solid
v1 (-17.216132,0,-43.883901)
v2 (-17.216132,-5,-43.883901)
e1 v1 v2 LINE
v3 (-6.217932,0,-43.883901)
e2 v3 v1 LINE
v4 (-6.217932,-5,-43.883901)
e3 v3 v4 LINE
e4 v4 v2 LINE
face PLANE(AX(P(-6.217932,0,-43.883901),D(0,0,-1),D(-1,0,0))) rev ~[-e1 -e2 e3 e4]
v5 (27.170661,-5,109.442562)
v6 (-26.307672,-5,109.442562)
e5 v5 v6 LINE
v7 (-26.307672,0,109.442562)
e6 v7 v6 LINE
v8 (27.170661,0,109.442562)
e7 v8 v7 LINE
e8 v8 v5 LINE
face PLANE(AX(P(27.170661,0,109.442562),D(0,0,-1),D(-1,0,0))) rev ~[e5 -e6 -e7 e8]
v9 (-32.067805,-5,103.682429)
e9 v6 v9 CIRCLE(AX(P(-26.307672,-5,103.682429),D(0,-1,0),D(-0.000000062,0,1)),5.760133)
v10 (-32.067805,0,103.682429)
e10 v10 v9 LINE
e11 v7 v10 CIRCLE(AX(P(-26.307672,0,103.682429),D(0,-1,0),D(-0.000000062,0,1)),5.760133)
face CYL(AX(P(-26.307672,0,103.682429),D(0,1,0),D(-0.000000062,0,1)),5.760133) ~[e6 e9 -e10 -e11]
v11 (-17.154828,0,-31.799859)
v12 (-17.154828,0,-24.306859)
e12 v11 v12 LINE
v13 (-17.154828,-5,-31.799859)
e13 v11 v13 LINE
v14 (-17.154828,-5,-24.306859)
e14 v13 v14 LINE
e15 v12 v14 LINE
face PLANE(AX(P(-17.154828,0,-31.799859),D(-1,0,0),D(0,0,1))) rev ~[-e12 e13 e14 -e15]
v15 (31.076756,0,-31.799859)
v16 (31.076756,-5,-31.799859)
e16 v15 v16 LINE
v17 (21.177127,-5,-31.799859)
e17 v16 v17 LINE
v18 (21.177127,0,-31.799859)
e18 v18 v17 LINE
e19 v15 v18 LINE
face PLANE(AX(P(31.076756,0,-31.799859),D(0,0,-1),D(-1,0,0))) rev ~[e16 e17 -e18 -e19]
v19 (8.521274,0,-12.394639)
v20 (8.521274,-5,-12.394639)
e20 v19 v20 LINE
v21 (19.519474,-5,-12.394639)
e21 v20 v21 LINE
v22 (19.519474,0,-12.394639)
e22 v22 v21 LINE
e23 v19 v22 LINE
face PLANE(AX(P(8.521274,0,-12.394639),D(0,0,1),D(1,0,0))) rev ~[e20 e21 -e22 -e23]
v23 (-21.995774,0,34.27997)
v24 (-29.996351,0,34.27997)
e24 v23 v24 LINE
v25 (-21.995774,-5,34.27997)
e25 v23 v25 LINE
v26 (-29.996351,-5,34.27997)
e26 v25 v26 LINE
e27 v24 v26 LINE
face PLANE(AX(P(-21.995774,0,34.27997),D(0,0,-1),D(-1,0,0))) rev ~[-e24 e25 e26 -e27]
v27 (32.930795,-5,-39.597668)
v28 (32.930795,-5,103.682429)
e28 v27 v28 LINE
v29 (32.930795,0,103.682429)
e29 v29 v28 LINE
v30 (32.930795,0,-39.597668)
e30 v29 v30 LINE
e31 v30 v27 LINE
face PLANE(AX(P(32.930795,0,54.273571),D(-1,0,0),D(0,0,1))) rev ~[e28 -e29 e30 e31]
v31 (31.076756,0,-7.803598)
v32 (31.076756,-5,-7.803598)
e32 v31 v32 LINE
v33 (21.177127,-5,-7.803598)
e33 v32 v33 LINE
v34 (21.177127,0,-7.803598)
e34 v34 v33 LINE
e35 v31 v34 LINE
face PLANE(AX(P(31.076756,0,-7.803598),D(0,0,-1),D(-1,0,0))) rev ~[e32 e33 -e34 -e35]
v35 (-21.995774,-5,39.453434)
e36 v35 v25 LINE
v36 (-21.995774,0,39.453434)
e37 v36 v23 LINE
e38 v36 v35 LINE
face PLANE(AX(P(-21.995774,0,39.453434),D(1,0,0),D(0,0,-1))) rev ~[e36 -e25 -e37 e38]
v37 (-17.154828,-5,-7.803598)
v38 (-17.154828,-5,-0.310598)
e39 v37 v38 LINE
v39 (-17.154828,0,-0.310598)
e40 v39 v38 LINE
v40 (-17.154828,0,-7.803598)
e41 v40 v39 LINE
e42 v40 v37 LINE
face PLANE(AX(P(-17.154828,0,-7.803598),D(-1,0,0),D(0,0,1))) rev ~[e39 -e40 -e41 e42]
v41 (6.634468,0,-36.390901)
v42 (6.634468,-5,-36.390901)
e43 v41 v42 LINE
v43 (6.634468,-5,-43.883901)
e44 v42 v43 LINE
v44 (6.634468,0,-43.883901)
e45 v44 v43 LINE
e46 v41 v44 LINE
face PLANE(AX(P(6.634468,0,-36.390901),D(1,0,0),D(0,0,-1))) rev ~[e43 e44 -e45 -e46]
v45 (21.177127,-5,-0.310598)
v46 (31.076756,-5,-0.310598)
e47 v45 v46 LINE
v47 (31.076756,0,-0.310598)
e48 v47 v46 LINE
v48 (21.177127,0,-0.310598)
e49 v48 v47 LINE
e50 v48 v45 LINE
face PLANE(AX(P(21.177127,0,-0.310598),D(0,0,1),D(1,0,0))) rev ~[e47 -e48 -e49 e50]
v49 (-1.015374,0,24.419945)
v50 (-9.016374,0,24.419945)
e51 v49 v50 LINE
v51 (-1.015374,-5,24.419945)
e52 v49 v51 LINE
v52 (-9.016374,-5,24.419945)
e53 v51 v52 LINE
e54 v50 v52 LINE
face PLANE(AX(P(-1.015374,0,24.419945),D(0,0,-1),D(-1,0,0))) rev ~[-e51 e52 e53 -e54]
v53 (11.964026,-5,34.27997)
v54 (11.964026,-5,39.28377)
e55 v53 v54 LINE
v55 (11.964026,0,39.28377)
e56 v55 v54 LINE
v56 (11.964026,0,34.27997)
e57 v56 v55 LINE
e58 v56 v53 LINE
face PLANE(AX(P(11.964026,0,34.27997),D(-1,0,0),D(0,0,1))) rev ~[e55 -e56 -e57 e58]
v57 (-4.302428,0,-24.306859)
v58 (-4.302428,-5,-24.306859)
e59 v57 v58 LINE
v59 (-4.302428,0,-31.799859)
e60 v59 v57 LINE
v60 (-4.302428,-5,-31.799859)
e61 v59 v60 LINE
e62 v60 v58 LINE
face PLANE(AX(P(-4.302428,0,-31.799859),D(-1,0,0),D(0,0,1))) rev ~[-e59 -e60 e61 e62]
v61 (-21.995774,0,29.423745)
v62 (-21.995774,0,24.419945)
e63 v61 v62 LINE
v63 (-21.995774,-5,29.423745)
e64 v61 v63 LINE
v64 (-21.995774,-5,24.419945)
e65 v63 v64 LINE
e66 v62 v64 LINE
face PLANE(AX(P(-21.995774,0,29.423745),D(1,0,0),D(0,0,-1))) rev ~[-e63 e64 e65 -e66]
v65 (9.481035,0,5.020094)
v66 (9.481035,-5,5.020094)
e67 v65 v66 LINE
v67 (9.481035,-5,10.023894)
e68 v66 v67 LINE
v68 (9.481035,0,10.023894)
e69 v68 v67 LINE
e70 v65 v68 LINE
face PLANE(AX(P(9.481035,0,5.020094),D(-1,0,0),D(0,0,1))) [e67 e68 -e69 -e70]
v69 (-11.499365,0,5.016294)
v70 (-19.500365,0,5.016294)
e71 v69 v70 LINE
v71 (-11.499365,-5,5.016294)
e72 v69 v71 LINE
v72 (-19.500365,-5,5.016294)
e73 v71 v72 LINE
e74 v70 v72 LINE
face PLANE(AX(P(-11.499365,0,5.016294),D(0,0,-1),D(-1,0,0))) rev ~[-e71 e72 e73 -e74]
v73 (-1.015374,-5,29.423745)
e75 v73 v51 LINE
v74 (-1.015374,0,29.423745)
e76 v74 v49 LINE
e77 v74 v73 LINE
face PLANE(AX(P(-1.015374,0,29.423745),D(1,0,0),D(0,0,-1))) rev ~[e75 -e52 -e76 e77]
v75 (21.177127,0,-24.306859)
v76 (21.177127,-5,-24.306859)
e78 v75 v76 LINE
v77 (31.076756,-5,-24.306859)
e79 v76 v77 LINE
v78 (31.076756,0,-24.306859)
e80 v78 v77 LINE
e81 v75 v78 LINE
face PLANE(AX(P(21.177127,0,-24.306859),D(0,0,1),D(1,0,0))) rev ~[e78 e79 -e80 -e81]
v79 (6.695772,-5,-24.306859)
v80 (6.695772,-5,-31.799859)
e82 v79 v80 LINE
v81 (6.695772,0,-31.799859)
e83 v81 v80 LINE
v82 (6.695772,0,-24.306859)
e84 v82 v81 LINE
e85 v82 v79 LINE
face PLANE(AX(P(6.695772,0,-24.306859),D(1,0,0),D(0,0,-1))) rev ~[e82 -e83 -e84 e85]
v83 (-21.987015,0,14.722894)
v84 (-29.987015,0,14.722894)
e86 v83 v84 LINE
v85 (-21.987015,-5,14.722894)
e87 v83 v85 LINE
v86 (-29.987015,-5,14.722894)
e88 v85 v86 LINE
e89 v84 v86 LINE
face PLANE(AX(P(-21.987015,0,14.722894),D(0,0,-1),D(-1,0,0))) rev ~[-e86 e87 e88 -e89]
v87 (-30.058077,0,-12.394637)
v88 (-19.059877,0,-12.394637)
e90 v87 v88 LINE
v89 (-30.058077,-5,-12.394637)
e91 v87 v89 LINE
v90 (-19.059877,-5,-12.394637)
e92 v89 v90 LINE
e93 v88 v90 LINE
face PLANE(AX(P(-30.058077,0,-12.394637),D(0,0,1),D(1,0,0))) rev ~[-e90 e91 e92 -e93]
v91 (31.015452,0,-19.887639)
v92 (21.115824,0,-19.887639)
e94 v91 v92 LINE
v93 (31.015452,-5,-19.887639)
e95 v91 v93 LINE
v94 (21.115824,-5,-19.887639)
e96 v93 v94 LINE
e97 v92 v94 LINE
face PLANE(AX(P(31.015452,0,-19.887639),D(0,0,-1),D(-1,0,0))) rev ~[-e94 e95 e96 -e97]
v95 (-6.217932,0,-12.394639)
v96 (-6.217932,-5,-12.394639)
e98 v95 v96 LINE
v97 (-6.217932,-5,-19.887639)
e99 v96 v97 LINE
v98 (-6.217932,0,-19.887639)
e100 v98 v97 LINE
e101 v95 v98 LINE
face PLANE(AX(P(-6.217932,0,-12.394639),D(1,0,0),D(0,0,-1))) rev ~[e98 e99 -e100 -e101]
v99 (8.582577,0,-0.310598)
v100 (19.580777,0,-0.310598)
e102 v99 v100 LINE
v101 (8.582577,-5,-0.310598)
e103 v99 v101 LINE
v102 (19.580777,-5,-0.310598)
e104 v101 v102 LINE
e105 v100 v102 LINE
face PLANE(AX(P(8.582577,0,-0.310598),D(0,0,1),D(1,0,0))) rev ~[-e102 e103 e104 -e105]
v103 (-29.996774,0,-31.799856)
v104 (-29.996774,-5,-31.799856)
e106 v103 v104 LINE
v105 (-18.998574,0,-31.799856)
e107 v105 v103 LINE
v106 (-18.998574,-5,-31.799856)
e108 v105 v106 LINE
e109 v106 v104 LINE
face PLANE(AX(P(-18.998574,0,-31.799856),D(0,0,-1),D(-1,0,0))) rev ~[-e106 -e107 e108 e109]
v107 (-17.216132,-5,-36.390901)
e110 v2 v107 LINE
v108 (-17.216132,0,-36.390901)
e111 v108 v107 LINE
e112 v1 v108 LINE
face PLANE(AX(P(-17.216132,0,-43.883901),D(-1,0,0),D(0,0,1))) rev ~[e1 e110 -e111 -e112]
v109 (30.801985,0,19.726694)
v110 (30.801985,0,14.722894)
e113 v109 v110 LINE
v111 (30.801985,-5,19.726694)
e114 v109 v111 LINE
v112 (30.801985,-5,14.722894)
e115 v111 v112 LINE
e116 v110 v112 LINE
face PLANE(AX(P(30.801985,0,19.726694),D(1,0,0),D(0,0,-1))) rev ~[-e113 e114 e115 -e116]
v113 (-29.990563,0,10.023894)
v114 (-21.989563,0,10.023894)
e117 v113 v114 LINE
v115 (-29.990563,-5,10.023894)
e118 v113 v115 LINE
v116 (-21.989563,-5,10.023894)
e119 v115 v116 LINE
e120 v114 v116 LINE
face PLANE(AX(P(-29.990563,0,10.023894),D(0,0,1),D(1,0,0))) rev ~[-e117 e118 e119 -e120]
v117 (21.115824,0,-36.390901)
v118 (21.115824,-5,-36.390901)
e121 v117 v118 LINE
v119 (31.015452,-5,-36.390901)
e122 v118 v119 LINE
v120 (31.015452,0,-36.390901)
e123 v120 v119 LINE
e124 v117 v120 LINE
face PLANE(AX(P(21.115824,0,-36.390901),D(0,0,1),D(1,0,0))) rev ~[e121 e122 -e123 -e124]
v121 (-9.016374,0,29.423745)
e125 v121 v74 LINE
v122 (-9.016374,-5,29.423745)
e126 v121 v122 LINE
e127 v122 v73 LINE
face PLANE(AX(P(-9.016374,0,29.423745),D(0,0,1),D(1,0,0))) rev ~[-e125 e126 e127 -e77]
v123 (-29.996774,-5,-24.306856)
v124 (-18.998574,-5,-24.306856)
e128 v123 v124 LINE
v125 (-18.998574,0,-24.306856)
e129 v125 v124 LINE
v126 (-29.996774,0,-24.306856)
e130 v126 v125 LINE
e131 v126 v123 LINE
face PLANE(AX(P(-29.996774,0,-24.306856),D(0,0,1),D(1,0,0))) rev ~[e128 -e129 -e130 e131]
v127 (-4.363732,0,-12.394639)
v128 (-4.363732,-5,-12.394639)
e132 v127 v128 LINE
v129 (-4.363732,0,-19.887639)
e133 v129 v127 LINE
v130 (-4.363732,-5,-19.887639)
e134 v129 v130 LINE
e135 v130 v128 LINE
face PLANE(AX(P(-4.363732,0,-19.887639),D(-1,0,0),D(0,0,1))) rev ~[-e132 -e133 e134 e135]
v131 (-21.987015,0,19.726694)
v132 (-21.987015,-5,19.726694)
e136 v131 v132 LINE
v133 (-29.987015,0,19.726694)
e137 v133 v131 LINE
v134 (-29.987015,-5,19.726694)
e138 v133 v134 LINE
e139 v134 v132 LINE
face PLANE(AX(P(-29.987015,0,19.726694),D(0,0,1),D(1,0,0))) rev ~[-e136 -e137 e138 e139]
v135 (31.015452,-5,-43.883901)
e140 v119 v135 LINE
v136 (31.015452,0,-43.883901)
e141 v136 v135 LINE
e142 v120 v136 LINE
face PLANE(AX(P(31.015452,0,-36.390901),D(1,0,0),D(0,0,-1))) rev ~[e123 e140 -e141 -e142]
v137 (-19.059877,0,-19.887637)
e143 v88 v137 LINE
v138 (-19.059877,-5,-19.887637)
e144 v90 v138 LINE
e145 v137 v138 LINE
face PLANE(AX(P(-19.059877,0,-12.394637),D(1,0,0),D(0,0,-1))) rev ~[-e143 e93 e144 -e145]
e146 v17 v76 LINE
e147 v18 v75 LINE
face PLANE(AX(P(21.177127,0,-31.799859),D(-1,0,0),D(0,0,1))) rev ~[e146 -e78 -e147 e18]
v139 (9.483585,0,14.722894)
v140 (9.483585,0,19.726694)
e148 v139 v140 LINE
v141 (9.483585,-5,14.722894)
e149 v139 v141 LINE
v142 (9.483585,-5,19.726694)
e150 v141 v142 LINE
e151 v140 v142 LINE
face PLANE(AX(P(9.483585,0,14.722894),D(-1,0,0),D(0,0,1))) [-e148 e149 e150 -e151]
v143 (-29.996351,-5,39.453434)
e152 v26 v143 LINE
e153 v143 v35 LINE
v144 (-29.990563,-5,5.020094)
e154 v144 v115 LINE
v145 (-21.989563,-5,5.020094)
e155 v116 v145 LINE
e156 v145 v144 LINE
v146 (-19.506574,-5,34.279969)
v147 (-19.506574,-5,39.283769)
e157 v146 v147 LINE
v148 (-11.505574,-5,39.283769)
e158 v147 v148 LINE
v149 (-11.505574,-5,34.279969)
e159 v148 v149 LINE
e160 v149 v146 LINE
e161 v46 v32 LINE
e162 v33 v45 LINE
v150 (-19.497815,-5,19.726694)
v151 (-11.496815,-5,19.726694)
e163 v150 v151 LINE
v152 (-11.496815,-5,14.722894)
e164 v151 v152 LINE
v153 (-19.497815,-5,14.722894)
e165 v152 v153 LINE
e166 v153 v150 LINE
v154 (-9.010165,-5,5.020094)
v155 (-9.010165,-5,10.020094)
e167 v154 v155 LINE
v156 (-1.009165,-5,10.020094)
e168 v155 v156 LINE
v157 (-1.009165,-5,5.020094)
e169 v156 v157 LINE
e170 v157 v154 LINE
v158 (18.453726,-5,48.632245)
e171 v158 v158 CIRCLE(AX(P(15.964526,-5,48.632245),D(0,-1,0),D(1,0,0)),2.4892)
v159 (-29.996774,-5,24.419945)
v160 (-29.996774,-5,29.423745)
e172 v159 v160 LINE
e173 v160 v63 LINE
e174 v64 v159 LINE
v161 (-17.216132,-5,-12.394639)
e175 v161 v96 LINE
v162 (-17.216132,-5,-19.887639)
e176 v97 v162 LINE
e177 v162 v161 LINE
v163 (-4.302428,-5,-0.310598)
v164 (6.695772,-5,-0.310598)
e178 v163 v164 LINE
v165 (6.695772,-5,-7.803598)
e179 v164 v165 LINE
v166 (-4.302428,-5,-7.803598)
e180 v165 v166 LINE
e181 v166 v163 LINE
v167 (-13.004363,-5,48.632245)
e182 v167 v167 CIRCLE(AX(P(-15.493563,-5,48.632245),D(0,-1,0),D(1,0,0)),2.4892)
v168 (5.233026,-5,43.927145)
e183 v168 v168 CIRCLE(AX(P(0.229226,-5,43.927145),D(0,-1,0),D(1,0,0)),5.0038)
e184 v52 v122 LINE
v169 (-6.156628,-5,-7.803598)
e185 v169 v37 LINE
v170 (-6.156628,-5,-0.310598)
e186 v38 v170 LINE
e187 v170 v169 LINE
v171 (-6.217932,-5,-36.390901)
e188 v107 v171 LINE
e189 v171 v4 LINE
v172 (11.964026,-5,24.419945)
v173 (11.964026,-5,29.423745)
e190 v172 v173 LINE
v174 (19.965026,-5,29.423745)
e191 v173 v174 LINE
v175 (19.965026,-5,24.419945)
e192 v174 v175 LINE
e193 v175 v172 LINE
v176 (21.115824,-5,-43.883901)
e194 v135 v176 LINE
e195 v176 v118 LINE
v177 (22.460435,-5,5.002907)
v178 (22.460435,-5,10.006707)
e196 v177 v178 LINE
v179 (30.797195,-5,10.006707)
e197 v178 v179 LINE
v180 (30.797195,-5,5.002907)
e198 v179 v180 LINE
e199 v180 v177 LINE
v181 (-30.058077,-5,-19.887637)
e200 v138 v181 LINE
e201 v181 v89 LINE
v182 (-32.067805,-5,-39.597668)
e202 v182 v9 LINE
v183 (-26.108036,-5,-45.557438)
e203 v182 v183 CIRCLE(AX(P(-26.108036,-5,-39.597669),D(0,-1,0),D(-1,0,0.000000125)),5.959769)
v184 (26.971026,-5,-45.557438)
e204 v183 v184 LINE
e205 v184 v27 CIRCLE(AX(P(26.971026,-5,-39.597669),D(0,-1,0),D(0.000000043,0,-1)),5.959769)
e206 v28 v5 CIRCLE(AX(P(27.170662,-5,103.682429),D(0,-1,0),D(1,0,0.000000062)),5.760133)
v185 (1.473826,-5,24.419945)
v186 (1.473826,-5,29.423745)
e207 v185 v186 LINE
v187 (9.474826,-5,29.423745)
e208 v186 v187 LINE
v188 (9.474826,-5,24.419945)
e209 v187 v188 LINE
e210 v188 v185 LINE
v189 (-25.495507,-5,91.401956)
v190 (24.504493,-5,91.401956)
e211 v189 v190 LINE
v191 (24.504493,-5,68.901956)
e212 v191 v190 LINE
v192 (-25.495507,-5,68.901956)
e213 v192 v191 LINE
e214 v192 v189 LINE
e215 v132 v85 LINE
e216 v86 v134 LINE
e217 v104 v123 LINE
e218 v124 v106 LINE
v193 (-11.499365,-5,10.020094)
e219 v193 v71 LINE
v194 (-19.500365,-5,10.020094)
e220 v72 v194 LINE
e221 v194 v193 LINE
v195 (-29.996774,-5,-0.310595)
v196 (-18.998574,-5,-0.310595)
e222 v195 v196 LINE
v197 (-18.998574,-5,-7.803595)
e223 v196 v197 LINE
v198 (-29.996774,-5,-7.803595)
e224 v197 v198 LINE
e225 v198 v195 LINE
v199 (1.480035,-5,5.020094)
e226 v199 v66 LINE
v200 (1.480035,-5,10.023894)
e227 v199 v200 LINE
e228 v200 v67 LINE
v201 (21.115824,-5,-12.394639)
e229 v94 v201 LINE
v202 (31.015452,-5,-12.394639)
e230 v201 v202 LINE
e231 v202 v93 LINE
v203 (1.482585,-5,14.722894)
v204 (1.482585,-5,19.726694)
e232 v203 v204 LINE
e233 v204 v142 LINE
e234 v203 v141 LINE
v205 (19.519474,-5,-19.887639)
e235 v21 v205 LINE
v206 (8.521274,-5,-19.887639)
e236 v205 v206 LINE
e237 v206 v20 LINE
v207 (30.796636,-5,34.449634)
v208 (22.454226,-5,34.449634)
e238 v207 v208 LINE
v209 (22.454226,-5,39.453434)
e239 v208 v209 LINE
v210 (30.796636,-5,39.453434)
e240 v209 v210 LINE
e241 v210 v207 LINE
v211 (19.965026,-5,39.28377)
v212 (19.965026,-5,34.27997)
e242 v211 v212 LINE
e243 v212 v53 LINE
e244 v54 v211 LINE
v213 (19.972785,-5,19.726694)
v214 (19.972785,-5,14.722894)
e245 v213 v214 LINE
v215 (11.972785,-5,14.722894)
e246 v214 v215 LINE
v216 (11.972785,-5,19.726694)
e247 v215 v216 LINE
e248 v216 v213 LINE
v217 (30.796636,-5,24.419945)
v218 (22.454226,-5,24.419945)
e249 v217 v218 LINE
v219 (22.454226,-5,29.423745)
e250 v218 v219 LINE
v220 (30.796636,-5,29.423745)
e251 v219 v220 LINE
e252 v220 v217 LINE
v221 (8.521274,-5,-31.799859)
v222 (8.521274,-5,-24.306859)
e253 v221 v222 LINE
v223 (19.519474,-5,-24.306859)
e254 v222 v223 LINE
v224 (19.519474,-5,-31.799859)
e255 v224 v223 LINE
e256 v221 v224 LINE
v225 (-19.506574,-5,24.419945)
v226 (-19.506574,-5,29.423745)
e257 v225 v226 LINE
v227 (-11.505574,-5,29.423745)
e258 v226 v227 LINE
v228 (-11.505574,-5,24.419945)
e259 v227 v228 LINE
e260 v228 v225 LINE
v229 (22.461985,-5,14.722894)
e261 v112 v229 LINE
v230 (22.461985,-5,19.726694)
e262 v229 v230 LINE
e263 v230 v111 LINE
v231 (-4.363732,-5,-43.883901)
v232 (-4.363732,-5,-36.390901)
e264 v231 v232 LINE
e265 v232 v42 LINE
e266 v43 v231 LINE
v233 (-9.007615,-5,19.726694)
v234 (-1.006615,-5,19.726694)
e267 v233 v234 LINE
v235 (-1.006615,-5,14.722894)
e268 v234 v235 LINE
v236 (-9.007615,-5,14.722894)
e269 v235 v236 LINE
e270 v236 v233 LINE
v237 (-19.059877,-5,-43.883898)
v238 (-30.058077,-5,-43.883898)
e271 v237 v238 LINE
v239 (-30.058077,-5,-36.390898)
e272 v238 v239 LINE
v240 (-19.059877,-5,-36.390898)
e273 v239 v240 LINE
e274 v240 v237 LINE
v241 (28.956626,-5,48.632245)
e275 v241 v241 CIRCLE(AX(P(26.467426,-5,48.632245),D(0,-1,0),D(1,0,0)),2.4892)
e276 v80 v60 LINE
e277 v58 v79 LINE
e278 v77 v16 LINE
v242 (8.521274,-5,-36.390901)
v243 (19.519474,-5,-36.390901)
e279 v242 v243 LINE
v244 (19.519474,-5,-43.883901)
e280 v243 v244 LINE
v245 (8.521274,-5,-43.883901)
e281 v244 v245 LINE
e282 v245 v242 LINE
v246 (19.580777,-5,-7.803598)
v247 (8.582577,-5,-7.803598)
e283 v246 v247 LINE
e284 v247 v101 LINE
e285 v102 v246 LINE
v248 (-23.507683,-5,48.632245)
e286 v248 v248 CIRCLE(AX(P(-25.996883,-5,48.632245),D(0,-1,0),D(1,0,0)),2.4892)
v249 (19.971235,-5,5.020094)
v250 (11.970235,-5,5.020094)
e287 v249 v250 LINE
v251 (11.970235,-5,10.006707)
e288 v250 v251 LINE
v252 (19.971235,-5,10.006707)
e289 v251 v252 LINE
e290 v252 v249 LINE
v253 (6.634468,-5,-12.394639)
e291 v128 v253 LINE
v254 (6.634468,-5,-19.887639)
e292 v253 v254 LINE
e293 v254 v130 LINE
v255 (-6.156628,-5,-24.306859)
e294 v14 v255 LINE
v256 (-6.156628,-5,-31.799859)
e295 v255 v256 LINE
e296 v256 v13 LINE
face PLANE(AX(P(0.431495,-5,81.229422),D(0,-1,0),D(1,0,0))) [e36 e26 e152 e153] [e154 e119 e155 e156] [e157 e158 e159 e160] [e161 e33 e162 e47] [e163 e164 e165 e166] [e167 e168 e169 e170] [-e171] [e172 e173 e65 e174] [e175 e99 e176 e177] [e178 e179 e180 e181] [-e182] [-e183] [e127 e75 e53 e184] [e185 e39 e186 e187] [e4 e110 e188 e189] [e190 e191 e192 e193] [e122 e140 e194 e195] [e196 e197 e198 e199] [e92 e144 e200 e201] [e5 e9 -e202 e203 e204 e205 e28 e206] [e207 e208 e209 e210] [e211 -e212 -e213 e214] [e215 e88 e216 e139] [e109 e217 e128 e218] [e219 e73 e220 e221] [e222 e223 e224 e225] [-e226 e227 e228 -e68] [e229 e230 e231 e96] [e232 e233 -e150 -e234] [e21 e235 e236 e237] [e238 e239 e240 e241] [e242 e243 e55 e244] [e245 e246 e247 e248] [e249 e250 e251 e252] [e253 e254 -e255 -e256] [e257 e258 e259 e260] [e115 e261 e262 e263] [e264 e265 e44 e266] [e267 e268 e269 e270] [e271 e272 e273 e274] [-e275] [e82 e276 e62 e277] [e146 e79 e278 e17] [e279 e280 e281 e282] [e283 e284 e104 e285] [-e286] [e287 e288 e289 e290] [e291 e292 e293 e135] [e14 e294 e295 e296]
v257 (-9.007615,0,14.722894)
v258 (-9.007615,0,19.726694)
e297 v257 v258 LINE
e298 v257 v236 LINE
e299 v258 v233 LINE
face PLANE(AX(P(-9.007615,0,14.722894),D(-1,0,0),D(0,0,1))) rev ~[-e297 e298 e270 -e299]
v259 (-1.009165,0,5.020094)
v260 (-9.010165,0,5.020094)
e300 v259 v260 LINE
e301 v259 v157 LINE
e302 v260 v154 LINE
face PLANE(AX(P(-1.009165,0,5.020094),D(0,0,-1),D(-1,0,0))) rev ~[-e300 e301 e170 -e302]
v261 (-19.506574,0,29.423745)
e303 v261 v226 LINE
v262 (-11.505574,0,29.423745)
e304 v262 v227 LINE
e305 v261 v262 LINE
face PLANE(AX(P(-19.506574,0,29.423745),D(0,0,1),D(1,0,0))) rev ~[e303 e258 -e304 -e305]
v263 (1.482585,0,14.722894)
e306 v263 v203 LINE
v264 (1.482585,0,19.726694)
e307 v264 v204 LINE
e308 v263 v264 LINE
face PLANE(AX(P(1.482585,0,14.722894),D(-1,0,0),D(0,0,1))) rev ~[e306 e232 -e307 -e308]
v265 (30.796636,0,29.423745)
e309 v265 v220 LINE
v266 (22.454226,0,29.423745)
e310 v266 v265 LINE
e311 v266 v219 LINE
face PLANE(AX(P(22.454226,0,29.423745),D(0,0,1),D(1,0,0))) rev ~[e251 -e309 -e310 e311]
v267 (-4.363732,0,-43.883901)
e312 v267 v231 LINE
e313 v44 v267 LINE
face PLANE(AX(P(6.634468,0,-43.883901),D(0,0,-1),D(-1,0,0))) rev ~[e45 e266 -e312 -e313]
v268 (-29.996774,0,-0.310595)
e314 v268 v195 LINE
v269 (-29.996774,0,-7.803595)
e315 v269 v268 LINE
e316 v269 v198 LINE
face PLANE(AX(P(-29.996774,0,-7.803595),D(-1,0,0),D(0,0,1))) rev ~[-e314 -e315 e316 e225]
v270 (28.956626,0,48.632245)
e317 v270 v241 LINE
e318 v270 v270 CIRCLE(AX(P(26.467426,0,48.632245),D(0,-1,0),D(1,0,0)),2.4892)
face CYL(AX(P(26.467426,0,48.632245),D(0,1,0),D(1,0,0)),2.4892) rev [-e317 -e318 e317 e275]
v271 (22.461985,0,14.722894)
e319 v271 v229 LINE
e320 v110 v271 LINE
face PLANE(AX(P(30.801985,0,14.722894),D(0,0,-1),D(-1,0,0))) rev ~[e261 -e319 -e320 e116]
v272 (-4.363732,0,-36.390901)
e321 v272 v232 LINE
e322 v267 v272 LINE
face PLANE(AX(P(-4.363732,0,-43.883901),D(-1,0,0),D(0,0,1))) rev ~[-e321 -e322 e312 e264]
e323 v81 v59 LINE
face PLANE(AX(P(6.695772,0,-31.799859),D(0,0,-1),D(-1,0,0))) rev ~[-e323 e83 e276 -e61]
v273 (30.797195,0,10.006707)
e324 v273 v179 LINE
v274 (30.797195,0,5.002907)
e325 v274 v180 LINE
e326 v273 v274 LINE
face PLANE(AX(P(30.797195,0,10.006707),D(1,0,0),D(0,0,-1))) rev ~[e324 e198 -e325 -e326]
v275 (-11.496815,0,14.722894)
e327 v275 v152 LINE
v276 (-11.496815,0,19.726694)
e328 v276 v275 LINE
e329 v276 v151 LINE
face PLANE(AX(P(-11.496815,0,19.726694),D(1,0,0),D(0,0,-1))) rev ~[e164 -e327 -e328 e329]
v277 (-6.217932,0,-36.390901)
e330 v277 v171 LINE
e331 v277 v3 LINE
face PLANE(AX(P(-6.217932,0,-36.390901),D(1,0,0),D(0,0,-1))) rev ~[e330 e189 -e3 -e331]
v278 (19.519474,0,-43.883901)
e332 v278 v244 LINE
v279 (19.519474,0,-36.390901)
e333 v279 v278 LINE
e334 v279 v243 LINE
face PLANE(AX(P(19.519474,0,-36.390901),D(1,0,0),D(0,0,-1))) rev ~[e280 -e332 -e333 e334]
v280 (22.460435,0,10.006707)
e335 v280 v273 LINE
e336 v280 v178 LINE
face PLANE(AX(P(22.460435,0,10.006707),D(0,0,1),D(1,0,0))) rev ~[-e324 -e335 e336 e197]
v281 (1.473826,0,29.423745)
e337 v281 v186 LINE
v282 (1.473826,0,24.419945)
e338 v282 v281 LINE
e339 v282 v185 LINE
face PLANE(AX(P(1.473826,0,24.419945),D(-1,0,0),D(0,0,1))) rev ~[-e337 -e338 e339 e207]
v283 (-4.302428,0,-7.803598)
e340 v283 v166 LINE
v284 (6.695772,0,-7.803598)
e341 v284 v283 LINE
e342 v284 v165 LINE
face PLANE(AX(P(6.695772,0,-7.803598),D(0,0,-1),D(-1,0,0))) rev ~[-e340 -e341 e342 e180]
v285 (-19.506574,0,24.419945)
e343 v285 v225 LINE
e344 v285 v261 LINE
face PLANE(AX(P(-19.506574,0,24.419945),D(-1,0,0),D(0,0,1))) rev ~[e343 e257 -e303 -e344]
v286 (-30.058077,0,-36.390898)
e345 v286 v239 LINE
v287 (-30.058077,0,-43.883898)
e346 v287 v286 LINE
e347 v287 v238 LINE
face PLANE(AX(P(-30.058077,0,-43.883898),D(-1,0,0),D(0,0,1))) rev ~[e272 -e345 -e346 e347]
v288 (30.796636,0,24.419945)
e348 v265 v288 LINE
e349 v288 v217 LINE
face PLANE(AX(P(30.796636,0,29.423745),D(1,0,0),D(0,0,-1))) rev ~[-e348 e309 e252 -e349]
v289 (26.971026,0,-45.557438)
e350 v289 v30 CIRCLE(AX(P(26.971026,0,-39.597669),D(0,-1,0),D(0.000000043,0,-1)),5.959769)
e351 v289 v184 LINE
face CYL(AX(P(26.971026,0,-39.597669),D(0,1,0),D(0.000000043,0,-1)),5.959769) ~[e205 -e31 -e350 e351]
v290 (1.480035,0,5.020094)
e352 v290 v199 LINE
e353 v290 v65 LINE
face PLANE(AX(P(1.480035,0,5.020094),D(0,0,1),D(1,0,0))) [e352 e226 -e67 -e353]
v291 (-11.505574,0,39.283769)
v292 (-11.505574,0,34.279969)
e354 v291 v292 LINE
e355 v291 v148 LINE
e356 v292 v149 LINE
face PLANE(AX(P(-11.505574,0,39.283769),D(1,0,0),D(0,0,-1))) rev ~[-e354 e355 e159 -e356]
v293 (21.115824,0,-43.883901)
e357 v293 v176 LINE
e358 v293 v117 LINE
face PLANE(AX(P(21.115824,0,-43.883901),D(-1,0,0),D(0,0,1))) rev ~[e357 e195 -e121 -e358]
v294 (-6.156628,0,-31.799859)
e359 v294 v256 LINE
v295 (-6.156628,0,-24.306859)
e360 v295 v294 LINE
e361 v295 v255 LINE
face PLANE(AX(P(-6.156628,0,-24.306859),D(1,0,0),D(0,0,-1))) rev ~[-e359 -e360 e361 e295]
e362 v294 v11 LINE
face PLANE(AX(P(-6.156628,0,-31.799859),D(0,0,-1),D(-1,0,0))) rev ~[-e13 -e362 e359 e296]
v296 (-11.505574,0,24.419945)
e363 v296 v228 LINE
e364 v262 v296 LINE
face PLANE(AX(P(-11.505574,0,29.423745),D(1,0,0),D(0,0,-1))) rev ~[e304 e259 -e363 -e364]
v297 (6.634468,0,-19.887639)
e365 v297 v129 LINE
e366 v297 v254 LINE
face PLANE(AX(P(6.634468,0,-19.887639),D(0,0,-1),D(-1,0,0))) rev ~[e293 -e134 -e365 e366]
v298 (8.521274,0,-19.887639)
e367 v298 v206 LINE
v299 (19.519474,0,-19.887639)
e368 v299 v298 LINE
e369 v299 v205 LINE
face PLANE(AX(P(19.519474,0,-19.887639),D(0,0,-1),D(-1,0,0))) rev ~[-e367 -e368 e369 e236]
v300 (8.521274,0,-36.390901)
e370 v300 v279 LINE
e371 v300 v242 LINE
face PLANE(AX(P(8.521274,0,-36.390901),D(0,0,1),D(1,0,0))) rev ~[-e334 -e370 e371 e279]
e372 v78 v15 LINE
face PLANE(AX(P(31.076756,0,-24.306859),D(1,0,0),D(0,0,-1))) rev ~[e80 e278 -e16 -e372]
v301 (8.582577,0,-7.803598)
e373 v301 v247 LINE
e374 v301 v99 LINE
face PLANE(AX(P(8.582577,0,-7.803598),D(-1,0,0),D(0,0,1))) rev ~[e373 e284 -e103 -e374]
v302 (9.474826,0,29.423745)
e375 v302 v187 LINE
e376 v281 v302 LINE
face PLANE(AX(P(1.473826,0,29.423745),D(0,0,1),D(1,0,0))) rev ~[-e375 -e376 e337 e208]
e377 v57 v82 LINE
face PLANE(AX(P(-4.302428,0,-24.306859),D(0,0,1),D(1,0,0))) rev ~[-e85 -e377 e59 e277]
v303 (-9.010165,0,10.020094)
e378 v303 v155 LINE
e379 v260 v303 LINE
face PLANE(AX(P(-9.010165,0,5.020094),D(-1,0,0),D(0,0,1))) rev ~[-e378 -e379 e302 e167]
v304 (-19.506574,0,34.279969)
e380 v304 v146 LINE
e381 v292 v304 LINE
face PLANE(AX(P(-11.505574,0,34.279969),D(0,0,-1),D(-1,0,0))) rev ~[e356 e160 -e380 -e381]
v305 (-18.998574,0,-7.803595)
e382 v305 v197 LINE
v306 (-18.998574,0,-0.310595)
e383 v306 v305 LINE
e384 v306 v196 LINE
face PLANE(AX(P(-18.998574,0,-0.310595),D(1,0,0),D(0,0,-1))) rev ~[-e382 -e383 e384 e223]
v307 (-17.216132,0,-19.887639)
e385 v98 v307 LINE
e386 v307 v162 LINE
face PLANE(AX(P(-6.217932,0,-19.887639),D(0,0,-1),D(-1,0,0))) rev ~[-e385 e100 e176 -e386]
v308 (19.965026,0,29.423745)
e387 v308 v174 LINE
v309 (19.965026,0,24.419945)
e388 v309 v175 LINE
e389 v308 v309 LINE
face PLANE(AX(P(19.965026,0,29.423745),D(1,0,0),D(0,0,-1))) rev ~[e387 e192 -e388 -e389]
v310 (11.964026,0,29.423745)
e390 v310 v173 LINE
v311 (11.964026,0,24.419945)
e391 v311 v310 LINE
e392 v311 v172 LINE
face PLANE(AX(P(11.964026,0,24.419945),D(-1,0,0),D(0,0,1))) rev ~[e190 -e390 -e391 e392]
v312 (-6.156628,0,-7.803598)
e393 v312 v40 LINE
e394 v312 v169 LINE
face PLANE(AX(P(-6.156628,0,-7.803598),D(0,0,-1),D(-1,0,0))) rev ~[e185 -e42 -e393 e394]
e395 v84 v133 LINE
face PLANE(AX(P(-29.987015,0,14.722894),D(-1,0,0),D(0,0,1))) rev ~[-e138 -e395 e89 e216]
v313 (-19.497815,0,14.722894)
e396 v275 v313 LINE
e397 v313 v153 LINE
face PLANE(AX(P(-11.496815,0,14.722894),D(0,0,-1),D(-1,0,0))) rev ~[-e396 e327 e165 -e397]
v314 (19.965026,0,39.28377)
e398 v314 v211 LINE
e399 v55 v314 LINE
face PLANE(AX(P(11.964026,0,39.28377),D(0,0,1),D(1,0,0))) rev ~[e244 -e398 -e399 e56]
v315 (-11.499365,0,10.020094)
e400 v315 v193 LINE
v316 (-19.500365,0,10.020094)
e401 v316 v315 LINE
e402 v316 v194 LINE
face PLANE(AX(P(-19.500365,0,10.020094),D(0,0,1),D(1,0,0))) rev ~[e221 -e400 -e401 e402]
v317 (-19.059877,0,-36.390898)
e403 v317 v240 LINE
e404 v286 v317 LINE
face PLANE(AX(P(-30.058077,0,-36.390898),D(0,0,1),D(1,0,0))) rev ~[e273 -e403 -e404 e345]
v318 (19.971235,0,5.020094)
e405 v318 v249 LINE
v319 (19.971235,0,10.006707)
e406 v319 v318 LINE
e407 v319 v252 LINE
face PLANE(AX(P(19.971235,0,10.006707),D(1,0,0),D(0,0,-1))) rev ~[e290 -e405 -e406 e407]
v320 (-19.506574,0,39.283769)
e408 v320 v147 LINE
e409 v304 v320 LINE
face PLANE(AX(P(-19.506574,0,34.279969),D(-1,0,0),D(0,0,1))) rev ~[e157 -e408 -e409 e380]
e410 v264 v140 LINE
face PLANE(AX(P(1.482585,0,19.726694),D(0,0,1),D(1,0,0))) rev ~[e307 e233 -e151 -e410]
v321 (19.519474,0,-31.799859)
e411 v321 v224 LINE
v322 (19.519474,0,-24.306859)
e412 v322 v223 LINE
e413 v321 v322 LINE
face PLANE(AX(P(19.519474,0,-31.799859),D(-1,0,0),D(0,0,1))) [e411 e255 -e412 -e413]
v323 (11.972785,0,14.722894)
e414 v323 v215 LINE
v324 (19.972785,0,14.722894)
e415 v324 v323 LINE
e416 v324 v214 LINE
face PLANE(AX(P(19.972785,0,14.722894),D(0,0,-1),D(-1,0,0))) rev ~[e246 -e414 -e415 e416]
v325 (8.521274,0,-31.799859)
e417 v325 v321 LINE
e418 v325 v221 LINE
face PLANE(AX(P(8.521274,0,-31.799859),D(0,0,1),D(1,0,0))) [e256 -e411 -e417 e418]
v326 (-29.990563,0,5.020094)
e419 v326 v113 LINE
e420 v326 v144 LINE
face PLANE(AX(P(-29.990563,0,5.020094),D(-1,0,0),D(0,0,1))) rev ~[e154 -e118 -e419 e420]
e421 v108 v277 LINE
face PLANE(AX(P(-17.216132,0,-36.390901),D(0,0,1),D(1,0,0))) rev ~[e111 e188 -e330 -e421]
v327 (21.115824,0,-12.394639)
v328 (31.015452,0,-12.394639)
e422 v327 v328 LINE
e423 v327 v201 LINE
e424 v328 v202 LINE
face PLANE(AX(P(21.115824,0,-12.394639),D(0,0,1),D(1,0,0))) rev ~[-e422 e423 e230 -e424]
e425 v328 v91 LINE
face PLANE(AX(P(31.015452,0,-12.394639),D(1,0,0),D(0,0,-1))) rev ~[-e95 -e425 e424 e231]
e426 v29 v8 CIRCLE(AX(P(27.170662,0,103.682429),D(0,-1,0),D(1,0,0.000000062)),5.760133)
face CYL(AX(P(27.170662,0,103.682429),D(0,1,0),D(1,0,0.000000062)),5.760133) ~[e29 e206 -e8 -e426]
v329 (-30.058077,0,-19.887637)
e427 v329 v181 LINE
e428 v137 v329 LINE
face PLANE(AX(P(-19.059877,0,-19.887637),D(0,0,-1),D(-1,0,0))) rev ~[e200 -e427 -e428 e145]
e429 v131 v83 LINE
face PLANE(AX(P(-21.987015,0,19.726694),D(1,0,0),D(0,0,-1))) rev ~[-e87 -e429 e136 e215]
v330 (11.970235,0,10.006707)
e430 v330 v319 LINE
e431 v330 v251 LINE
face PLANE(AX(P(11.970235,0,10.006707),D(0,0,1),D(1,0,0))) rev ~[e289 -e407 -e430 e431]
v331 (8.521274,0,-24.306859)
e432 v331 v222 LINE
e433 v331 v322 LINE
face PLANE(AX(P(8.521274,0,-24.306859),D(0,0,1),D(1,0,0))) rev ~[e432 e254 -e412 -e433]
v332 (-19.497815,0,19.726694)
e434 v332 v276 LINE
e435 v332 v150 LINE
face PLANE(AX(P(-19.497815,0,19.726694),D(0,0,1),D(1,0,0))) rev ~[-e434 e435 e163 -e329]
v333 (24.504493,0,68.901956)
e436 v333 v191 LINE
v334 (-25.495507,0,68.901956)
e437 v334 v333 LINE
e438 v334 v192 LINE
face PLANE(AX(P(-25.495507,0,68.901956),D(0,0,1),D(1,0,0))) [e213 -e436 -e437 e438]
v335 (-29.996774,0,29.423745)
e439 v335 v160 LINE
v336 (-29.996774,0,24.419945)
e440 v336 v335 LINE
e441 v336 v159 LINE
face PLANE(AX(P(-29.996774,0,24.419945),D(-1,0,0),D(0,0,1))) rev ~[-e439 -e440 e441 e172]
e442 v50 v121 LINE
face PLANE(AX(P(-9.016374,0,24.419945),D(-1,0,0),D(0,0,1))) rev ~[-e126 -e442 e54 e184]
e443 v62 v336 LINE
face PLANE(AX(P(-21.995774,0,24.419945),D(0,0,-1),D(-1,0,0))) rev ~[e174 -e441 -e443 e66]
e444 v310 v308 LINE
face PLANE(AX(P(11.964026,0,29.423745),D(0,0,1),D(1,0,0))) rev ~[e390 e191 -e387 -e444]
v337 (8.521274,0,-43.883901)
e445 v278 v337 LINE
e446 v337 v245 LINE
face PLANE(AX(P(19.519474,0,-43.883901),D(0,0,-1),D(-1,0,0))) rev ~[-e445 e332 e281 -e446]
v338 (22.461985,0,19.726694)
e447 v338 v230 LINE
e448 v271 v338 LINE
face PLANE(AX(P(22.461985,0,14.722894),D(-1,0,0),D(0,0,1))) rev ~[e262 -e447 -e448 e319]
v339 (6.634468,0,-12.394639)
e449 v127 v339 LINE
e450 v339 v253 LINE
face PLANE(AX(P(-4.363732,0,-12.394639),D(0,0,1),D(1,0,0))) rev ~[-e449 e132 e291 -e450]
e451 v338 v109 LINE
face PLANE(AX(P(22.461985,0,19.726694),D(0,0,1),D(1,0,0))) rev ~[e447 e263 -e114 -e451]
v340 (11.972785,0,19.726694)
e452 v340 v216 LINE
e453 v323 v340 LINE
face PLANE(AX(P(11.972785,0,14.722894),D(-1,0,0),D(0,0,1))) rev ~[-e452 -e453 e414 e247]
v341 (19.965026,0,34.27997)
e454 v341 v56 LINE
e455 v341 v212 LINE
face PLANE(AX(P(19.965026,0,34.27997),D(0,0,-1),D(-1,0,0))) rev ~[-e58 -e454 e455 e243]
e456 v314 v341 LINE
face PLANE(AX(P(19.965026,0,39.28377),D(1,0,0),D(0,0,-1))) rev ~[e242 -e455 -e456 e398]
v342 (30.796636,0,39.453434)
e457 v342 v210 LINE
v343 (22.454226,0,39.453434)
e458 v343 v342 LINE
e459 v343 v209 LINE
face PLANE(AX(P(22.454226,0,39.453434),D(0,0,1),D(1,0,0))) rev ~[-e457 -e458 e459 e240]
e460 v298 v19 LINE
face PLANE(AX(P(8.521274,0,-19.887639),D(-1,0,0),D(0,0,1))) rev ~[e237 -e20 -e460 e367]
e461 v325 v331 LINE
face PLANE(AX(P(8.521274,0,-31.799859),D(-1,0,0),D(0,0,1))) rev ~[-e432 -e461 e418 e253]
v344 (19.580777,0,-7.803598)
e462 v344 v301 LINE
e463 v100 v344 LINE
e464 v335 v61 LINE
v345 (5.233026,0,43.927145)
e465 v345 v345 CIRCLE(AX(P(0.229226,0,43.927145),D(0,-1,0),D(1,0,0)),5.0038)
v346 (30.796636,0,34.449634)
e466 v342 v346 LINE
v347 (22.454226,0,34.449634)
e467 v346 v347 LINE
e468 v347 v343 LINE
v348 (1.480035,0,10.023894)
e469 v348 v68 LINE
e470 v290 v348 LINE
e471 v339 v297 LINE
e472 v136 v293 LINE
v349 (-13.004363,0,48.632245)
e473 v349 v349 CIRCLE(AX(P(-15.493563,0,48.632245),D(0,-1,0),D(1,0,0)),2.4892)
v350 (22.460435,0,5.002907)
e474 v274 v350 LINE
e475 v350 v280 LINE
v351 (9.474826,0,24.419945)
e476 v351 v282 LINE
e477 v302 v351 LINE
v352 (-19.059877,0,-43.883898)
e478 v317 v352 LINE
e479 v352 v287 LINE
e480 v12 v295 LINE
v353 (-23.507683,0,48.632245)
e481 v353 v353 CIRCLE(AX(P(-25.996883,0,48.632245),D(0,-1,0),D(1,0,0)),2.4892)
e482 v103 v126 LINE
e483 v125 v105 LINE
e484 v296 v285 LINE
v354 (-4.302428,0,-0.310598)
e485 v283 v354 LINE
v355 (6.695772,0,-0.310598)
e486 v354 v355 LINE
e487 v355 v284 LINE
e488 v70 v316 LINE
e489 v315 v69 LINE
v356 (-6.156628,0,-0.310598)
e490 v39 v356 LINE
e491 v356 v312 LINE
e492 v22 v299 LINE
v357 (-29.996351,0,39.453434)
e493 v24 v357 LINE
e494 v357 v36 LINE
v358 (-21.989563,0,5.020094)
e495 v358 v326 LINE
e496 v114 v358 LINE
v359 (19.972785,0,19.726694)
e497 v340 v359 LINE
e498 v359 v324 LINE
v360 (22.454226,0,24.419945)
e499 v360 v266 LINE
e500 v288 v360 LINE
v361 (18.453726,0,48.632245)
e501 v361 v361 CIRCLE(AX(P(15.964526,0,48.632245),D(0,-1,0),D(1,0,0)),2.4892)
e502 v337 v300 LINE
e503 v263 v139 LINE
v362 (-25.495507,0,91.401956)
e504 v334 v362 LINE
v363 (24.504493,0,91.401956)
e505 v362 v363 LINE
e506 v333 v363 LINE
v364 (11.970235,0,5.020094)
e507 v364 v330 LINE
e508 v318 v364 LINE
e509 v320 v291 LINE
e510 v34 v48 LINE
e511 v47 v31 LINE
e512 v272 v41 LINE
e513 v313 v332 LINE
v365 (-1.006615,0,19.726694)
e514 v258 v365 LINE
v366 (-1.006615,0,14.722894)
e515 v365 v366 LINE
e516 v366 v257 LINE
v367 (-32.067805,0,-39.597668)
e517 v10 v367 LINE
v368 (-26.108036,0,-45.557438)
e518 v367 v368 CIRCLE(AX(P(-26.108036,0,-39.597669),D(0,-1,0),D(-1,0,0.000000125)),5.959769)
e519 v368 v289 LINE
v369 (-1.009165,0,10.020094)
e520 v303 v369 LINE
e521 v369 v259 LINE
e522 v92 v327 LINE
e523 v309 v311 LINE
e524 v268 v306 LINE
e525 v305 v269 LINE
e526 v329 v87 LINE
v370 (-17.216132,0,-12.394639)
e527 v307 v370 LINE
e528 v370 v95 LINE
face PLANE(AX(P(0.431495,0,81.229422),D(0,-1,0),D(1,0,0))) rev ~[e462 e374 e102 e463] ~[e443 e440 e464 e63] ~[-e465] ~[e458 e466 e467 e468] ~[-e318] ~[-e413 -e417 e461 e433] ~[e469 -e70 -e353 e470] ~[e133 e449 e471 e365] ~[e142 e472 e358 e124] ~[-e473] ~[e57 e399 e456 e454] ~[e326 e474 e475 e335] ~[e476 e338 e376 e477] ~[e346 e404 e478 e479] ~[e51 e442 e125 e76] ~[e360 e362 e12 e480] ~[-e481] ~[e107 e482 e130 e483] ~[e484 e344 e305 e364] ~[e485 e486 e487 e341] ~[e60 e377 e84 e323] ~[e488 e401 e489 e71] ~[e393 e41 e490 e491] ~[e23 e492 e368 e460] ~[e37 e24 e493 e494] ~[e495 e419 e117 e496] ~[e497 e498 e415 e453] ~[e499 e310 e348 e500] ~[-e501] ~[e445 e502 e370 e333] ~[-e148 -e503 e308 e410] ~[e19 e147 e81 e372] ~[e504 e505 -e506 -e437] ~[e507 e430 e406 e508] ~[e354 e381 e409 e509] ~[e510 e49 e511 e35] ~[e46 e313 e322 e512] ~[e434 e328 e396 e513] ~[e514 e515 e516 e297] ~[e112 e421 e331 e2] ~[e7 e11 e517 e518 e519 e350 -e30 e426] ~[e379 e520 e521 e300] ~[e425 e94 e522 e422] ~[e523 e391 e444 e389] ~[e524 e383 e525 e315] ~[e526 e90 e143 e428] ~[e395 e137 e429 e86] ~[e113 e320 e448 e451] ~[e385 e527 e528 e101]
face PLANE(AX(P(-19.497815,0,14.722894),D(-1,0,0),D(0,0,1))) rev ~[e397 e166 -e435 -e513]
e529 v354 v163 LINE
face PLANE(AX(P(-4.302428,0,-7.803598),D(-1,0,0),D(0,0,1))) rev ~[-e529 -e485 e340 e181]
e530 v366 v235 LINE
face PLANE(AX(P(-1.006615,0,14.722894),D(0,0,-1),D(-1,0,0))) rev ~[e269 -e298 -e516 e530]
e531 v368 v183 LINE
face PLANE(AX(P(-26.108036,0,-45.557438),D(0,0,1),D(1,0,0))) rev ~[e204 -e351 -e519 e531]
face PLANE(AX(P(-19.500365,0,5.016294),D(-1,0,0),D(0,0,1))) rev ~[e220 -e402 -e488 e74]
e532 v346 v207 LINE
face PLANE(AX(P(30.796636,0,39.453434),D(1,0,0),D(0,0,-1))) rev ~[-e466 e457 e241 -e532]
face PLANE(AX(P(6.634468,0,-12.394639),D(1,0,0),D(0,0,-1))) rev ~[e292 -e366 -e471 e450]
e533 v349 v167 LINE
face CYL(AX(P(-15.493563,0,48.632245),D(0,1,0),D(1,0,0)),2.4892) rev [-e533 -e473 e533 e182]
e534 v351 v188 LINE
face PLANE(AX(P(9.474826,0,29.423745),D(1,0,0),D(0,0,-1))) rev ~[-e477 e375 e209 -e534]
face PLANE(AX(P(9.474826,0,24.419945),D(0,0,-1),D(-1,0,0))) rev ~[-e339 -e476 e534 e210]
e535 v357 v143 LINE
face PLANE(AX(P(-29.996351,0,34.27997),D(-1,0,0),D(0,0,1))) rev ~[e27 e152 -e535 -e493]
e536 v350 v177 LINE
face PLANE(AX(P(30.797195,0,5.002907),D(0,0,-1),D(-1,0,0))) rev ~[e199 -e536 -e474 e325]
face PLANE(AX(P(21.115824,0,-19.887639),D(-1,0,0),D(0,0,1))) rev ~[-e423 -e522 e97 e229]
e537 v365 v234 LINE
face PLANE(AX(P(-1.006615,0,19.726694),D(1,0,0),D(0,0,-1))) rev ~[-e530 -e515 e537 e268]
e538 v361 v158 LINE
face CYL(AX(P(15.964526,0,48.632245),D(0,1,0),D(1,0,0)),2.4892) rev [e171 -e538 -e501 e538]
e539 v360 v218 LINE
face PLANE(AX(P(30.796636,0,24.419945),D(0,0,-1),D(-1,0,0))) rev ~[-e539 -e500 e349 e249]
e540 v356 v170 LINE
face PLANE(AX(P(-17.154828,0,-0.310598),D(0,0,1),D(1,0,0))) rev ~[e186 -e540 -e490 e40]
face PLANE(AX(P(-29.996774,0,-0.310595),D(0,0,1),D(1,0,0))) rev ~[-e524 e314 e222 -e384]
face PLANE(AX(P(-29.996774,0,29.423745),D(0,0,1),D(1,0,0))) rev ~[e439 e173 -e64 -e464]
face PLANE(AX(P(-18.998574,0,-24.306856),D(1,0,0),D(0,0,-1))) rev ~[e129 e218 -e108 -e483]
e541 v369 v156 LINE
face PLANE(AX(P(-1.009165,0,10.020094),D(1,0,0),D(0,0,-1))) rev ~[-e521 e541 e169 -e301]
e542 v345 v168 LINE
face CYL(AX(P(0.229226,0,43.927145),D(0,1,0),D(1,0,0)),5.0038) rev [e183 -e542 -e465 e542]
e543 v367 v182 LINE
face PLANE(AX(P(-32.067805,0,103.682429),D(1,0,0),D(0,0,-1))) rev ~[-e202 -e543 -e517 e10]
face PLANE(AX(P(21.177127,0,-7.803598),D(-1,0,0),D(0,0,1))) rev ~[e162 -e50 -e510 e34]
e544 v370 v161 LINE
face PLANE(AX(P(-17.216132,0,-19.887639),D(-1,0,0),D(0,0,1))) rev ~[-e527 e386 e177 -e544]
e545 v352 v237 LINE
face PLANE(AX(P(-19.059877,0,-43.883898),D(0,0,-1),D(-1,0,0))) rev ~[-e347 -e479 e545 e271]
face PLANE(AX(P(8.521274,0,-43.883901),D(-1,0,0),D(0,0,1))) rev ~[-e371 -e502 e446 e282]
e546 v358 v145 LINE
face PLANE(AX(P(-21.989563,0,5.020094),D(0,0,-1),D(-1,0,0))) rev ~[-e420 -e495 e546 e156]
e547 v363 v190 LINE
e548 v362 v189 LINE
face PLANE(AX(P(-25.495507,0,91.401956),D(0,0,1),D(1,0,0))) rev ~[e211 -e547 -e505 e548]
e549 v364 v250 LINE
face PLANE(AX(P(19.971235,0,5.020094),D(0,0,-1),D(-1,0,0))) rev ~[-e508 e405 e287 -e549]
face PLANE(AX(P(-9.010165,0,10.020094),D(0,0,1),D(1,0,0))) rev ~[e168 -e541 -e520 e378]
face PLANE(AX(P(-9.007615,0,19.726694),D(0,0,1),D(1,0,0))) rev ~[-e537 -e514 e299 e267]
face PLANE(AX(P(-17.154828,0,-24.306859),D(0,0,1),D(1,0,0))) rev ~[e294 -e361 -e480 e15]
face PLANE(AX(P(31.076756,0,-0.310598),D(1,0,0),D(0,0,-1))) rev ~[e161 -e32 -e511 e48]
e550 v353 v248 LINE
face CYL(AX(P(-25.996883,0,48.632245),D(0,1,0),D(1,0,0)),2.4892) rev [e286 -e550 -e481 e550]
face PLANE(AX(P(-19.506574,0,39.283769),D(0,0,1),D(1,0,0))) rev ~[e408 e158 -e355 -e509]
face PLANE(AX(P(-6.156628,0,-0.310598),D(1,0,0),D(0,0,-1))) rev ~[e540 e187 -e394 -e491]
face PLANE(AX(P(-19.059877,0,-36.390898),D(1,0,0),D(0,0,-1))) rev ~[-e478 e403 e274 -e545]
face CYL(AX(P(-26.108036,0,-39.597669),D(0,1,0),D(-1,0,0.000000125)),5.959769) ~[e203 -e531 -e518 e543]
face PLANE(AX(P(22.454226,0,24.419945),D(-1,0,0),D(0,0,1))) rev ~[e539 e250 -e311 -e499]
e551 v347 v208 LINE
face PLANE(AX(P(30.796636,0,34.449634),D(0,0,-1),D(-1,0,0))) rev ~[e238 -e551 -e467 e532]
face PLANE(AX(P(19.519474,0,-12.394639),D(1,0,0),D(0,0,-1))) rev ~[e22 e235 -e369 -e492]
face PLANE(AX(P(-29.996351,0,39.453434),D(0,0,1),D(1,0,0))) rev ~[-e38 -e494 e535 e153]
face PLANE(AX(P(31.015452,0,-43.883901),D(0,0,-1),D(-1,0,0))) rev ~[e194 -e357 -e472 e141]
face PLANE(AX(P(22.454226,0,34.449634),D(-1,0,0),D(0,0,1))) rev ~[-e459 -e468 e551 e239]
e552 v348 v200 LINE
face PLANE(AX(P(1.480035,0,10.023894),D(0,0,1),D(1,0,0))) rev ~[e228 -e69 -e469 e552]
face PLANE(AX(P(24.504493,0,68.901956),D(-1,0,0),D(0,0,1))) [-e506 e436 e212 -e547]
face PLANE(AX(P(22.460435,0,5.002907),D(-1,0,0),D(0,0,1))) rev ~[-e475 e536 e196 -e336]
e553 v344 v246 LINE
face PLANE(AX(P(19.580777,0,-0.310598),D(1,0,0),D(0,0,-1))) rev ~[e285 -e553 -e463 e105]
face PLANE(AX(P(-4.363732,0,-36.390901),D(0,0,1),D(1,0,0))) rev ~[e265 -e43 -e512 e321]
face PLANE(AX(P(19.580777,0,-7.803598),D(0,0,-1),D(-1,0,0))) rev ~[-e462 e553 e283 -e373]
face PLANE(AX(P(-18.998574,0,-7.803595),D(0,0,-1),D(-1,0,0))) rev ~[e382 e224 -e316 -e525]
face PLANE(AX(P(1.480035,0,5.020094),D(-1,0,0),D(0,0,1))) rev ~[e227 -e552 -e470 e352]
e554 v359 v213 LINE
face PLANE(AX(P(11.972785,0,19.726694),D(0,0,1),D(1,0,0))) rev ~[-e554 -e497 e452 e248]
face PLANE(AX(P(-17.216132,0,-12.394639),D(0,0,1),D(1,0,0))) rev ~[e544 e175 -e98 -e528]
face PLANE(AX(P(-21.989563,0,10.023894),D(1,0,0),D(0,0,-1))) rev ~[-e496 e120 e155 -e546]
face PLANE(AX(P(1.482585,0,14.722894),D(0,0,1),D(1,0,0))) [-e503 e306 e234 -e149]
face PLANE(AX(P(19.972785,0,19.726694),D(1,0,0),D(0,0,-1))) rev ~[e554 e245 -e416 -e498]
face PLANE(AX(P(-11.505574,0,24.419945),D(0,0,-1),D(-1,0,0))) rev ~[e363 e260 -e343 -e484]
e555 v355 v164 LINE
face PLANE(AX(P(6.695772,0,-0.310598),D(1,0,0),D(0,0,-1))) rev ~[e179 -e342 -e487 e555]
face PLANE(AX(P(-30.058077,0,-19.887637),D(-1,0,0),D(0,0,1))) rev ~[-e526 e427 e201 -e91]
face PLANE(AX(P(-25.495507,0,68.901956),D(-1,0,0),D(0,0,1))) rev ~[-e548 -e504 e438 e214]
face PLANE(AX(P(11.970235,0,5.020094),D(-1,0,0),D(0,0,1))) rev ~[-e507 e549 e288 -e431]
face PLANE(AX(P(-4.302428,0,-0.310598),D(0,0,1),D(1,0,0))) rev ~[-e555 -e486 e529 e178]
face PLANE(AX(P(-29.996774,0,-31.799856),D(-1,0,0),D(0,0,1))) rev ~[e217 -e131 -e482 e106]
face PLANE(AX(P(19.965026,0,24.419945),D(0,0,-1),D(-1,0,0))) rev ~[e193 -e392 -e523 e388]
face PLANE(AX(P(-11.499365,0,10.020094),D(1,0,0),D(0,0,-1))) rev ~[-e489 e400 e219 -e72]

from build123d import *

# Parameters (mm, degrees)
F0_W     = 10.9982
F0_H     = 7.493
F0_W_2   = 8.001
F0_H_2   = 5.0038
F0_R     = 2.4892
F0_R_2   = 5.0038
F1_DEPTH = 5
F0_W_3   = 50
F0_H_3   = 22.5
F2_DEPTH = 5


with BuildPart() as f1:
    # F0 (on Front) → F1 (new body)
    with BuildSketch(Plane.XZ):
        with BuildLine():
            Line((32.930795, 54.273571), (-32.067805, 54.273571))
            Line((-32.067805, 54.273571), (-32.067805, -39.597668))
            ThreePointArc((-32.067805, -39.597668), (-30.322229, -43.811862), (-26.108036, -45.557438))
            Line((-26.108036, -45.557438), (26.971026, -45.557438))
            ThreePointArc((26.971026, -45.557438), (31.185219, -43.811862), (32.930795, -39.597668))
            Line((32.930795, -39.597668), (32.930795, 54.273571))
        make_face()
        Polygon((-24.558977, -43.883898), (-30.058077, -43.883898), (-30.058077, -36.390898), (-19.059877, -36.390898), (-19.059877, -43.883898), align=None, mode=Mode.SUBTRACT)
        Polygon((-24.497674, -31.799856), (-29.996774, -31.799856), (-29.996774, -24.306856), (-18.998574, -24.306856), (-18.998574, -31.799856), align=None, mode=Mode.SUBTRACT)
        Polygon((-24.558977, -19.887637), (-30.058077, -19.887637), (-30.058077, -12.394637), (-19.059877, -12.394637), (-19.059877, -19.887637), align=None, mode=Mode.SUBTRACT)
        Polygon((-11.717032, -43.883901), (-17.216132, -43.883901), (-17.216132, -36.390901), (-6.217932, -36.390901), (-6.217932, -43.883901), align=None, mode=Mode.SUBTRACT)
        Polygon((-11.655728, -31.799859), (-17.154828, -31.799859), (-17.154828, -24.306859), (-6.156628, -24.306859), (-6.156628, -31.799859), align=None, mode=Mode.SUBTRACT)
        Polygon((-11.717032, -19.887639), (-17.216132, -19.887639), (-17.216132, -12.394639), (-6.217932, -12.394639), (-6.217932, -19.887639), align=None, mode=Mode.SUBTRACT)
        Polygon((-24.497674, -7.803595), (-29.996774, -7.803595), (-29.996774, -0.310595), (-18.998574, -0.310595), (-18.998574, -7.803595), align=None, mode=Mode.SUBTRACT)
        Polygon((-27.643991, 5.020094), (-29.990563, 5.020094), (-29.990563, 10.023894), (-21.989563, 10.023894), (-21.989563, 5.020094), align=None, mode=Mode.SUBTRACT)
        Polygon((-26.28431, 14.722894), (-29.987015, 14.722894), (-29.987015, 19.726694), (-21.987015, 19.726694), (-21.987015, 14.722894), align=None, mode=Mode.SUBTRACT)
        Polygon((-25.983574, 24.419945), (-29.996774, 24.419945), (-29.996774, 29.423745), (-21.995774, 29.423745), (-21.995774, 24.419945), align=None, mode=Mode.SUBTRACT)
        Polygon((-11.655728, -7.803598), (-17.154828, -7.803598), (-17.154828, -0.310598), (-6.156628, -0.310598), (-6.156628, -7.803598), align=None, mode=Mode.SUBTRACT)
        Polygon((-17.148439, 5.016294), (-19.500365, 5.016294), (-19.500365, 10.020094), (-11.499365, 10.020094), (-11.499365, 5.016294), align=None, mode=Mode.SUBTRACT)
        Polygon((-7.183166, 5.020094), (-9.010165, 5.020094), (-9.010165, 10.020094), (-1.009165, 10.020094), (-1.009165, 5.020094), align=None, mode=Mode.SUBTRACT)
        Polygon((-15.484615, 14.722894), (-19.497815, 14.722894), (-19.497815, 19.726694), (-11.496815, 19.726694), (-11.496815, 14.722894), align=None, mode=Mode.SUBTRACT)
        Polygon((-15.493374, 24.419945), (-19.506574, 24.419945), (-19.506574, 29.423745), (-11.505574, 29.423745), (-11.505574, 24.419945), align=None, mode=Mode.SUBTRACT)
        Polygon((-5.823485, 14.722894), (-9.007615, 14.722894), (-9.007615, 19.726694), (-1.006615, 19.726694), (-1.006615, 14.722894), align=None, mode=Mode.SUBTRACT)
        Polygon((-5.52275, 24.419945), (-9.016374, 24.419945), (-9.016374, 29.423745), (-1.015374, 29.423745), (-1.015374, 24.419945), align=None, mode=Mode.SUBTRACT)
        Polygon((1.135368, -43.883901), (-4.363732, -43.883901), (-4.363732, -36.390901), (6.634468, -36.390901), (6.634468, -43.883901), align=None, mode=Mode.SUBTRACT)
        Polygon((1.196672, -31.799859), (-4.302428, -31.799859), (-4.302428, -24.306859), (6.695772, -24.306859), (6.695772, -31.799859), align=None, mode=Mode.SUBTRACT)
        Polygon((14.020374, -43.883901), (8.521274, -43.883901), (8.521274, -36.390901), (19.519474, -36.390901), (19.519474, -43.883901), align=None, mode=Mode.SUBTRACT)
        with Locations((14.020374, -28.053359)):
            Rectangle(F0_W, F0_H, mode=Mode.SUBTRACT)
        Polygon((1.135368, -19.887639), (-4.363732, -19.887639), (-4.363732, -12.394639), (6.634468, -12.394639), (6.634468, -19.887639), align=None, mode=Mode.SUBTRACT)
        Polygon((14.020374, -19.887639), (8.521274, -19.887639), (8.521274, -12.394639), (19.519474, -12.394639), (19.519474, -19.887639), align=None, mode=Mode.SUBTRACT)
        Polygon((25.782729, -43.883901), (21.115824, -43.883901), (21.115824, -36.390901), (31.015452, -36.390901), (31.015452, -43.883901), align=None, mode=Mode.SUBTRACT)
        Polygon((25.844033, -31.799859), (21.177127, -31.799859), (21.177127, -24.306859), (31.076756, -24.306859), (31.076756, -31.799859), align=None, mode=Mode.SUBTRACT)
        Polygon((25.782729, -19.887639), (21.115824, -19.887639), (21.115824, -12.394639), (31.015452, -12.394639), (31.015452, -19.887639), align=None, mode=Mode.SUBTRACT)
        Polygon((1.196672, -7.803598), (-4.302428, -7.803598), (-4.302428, -0.310598), (6.695772, -0.310598), (6.695772, -7.803598), align=None, mode=Mode.SUBTRACT)
        with Locations((5.480535, 7.521994)):
            Rectangle(F0_W_2, F0_H_2, mode=Mode.SUBTRACT)
        Polygon((14.081677, -7.803598), (8.582577, -7.803598), (8.582577, -0.310598), (19.580777, -0.310598), (19.580777, -7.803598), align=None, mode=Mode.SUBTRACT)
        Polygon((12.818122, 5.020094), (11.970235, 5.020094), (11.970235, 10.006707), (19.971235, 10.006707), (19.971235, 5.020094), align=None, mode=Mode.SUBTRACT)
        with Locations((5.483085, 17.224794)):
            Rectangle(F0_W_2, F0_H_2, mode=Mode.SUBTRACT)
        Polygon((9.474826, 24.419945), (1.473826, 24.419945), (1.473826, 29.423745), (9.474826, 29.423745), (9.474826, 26.934545), align=None, mode=Mode.SUBTRACT)
        Polygon((14.177803, 14.722894), (11.972785, 14.722894), (11.972785, 19.726694), (19.972785, 19.726694), (19.972785, 14.722894), align=None, mode=Mode.SUBTRACT)
        Polygon((14.478539, 24.419945), (11.964026, 24.419945), (11.964026, 29.423745), (19.965026, 29.423745), (19.965026, 24.419945), align=None, mode=Mode.SUBTRACT)
        Polygon((25.844033, -7.803598), (21.177127, -7.803598), (21.177127, -0.310598), (31.076756, -0.310598), (31.076756, -7.803598), align=None, mode=Mode.SUBTRACT)
        Polygon((24.846989, 5.002907), (22.460435, 5.002907), (22.460435, 10.006707), (30.797195, 10.006707), (30.797195, 5.002907), align=None, mode=Mode.SUBTRACT)
        Polygon((26.16669, 14.722894), (22.461985, 14.722894), (22.461985, 19.726694), (30.801985, 19.726694), (30.801985, 14.722894), align=None, mode=Mode.SUBTRACT)
        Polygon((26.467426, 24.419945), (22.454226, 24.419945), (22.454226, 29.423745), (30.796636, 29.423745), (30.796636, 24.419945), align=None, mode=Mode.SUBTRACT)
        Polygon((-25.983574, 34.27997), (-29.996351, 34.27997), (-29.996351, 39.453434), (-21.995774, 39.453434), (-21.995774, 34.27997), align=None, mode=Mode.SUBTRACT)
        with Locations((-25.996883, 48.632245)):
            Circle(F0_R, mode=Mode.SUBTRACT)
        Polygon((-15.493374, 34.279969), (-19.506574, 34.279969), (-19.506574, 39.283769), (-11.505574, 39.283769), (-11.505574, 34.279969), align=None, mode=Mode.SUBTRACT)
        with Locations((-15.493563, 48.632245)):
            Circle(F0_R, mode=Mode.SUBTRACT)
        with Locations((0.229226, 43.927145)):
            Circle(F0_R_2, mode=Mode.SUBTRACT)
        Polygon((14.478539, 34.27997), (11.964026, 34.27997), (11.964026, 39.28377), (19.965026, 39.28377), (19.965026, 34.27997), (15.964526, 34.27997), align=None, mode=Mode.SUBTRACT)
        with Locations((15.964526, 48.632245)):
            Circle(F0_R, mode=Mode.SUBTRACT)
        Polygon((26.467426, 34.449634), (22.454226, 34.449634), (22.454226, 39.453434), (30.796636, 39.453434), (30.796636, 34.449634), align=None, mode=Mode.SUBTRACT)
        with Locations((26.467426, 48.632245)):
            Circle(F0_R, mode=Mode.SUBTRACT)
    extrude(amount=F1_DEPTH)

    # F0 (on Front) → F2 (join)
    with BuildSketch(Plane.XZ):
        with BuildLine():
            Line((-32.067805, 103.682429), (-32.067805, 54.273571))
            Line((-32.067805, 54.273571), (32.930795, 54.273571))
            Line((32.930795, 54.273571), (32.930795, 103.682429))
            ThreePointArc((32.930795, 103.682429), (31.243691, 107.755458), (27.170661, 109.442562))
            Line((27.170661, 109.442562), (-26.307672, 109.442562))
            ThreePointArc((-26.307672, 109.442562), (-30.380701, 107.755458), (-32.067805, 103.682429))
        make_face()
        with Locations((-0.495507, 80.151956)):
            Rectangle(F0_W_3, F0_H_3, mode=Mode.SUBTRACT)
    extrude(amount=F2_DEPTH)


solid = f1.part
